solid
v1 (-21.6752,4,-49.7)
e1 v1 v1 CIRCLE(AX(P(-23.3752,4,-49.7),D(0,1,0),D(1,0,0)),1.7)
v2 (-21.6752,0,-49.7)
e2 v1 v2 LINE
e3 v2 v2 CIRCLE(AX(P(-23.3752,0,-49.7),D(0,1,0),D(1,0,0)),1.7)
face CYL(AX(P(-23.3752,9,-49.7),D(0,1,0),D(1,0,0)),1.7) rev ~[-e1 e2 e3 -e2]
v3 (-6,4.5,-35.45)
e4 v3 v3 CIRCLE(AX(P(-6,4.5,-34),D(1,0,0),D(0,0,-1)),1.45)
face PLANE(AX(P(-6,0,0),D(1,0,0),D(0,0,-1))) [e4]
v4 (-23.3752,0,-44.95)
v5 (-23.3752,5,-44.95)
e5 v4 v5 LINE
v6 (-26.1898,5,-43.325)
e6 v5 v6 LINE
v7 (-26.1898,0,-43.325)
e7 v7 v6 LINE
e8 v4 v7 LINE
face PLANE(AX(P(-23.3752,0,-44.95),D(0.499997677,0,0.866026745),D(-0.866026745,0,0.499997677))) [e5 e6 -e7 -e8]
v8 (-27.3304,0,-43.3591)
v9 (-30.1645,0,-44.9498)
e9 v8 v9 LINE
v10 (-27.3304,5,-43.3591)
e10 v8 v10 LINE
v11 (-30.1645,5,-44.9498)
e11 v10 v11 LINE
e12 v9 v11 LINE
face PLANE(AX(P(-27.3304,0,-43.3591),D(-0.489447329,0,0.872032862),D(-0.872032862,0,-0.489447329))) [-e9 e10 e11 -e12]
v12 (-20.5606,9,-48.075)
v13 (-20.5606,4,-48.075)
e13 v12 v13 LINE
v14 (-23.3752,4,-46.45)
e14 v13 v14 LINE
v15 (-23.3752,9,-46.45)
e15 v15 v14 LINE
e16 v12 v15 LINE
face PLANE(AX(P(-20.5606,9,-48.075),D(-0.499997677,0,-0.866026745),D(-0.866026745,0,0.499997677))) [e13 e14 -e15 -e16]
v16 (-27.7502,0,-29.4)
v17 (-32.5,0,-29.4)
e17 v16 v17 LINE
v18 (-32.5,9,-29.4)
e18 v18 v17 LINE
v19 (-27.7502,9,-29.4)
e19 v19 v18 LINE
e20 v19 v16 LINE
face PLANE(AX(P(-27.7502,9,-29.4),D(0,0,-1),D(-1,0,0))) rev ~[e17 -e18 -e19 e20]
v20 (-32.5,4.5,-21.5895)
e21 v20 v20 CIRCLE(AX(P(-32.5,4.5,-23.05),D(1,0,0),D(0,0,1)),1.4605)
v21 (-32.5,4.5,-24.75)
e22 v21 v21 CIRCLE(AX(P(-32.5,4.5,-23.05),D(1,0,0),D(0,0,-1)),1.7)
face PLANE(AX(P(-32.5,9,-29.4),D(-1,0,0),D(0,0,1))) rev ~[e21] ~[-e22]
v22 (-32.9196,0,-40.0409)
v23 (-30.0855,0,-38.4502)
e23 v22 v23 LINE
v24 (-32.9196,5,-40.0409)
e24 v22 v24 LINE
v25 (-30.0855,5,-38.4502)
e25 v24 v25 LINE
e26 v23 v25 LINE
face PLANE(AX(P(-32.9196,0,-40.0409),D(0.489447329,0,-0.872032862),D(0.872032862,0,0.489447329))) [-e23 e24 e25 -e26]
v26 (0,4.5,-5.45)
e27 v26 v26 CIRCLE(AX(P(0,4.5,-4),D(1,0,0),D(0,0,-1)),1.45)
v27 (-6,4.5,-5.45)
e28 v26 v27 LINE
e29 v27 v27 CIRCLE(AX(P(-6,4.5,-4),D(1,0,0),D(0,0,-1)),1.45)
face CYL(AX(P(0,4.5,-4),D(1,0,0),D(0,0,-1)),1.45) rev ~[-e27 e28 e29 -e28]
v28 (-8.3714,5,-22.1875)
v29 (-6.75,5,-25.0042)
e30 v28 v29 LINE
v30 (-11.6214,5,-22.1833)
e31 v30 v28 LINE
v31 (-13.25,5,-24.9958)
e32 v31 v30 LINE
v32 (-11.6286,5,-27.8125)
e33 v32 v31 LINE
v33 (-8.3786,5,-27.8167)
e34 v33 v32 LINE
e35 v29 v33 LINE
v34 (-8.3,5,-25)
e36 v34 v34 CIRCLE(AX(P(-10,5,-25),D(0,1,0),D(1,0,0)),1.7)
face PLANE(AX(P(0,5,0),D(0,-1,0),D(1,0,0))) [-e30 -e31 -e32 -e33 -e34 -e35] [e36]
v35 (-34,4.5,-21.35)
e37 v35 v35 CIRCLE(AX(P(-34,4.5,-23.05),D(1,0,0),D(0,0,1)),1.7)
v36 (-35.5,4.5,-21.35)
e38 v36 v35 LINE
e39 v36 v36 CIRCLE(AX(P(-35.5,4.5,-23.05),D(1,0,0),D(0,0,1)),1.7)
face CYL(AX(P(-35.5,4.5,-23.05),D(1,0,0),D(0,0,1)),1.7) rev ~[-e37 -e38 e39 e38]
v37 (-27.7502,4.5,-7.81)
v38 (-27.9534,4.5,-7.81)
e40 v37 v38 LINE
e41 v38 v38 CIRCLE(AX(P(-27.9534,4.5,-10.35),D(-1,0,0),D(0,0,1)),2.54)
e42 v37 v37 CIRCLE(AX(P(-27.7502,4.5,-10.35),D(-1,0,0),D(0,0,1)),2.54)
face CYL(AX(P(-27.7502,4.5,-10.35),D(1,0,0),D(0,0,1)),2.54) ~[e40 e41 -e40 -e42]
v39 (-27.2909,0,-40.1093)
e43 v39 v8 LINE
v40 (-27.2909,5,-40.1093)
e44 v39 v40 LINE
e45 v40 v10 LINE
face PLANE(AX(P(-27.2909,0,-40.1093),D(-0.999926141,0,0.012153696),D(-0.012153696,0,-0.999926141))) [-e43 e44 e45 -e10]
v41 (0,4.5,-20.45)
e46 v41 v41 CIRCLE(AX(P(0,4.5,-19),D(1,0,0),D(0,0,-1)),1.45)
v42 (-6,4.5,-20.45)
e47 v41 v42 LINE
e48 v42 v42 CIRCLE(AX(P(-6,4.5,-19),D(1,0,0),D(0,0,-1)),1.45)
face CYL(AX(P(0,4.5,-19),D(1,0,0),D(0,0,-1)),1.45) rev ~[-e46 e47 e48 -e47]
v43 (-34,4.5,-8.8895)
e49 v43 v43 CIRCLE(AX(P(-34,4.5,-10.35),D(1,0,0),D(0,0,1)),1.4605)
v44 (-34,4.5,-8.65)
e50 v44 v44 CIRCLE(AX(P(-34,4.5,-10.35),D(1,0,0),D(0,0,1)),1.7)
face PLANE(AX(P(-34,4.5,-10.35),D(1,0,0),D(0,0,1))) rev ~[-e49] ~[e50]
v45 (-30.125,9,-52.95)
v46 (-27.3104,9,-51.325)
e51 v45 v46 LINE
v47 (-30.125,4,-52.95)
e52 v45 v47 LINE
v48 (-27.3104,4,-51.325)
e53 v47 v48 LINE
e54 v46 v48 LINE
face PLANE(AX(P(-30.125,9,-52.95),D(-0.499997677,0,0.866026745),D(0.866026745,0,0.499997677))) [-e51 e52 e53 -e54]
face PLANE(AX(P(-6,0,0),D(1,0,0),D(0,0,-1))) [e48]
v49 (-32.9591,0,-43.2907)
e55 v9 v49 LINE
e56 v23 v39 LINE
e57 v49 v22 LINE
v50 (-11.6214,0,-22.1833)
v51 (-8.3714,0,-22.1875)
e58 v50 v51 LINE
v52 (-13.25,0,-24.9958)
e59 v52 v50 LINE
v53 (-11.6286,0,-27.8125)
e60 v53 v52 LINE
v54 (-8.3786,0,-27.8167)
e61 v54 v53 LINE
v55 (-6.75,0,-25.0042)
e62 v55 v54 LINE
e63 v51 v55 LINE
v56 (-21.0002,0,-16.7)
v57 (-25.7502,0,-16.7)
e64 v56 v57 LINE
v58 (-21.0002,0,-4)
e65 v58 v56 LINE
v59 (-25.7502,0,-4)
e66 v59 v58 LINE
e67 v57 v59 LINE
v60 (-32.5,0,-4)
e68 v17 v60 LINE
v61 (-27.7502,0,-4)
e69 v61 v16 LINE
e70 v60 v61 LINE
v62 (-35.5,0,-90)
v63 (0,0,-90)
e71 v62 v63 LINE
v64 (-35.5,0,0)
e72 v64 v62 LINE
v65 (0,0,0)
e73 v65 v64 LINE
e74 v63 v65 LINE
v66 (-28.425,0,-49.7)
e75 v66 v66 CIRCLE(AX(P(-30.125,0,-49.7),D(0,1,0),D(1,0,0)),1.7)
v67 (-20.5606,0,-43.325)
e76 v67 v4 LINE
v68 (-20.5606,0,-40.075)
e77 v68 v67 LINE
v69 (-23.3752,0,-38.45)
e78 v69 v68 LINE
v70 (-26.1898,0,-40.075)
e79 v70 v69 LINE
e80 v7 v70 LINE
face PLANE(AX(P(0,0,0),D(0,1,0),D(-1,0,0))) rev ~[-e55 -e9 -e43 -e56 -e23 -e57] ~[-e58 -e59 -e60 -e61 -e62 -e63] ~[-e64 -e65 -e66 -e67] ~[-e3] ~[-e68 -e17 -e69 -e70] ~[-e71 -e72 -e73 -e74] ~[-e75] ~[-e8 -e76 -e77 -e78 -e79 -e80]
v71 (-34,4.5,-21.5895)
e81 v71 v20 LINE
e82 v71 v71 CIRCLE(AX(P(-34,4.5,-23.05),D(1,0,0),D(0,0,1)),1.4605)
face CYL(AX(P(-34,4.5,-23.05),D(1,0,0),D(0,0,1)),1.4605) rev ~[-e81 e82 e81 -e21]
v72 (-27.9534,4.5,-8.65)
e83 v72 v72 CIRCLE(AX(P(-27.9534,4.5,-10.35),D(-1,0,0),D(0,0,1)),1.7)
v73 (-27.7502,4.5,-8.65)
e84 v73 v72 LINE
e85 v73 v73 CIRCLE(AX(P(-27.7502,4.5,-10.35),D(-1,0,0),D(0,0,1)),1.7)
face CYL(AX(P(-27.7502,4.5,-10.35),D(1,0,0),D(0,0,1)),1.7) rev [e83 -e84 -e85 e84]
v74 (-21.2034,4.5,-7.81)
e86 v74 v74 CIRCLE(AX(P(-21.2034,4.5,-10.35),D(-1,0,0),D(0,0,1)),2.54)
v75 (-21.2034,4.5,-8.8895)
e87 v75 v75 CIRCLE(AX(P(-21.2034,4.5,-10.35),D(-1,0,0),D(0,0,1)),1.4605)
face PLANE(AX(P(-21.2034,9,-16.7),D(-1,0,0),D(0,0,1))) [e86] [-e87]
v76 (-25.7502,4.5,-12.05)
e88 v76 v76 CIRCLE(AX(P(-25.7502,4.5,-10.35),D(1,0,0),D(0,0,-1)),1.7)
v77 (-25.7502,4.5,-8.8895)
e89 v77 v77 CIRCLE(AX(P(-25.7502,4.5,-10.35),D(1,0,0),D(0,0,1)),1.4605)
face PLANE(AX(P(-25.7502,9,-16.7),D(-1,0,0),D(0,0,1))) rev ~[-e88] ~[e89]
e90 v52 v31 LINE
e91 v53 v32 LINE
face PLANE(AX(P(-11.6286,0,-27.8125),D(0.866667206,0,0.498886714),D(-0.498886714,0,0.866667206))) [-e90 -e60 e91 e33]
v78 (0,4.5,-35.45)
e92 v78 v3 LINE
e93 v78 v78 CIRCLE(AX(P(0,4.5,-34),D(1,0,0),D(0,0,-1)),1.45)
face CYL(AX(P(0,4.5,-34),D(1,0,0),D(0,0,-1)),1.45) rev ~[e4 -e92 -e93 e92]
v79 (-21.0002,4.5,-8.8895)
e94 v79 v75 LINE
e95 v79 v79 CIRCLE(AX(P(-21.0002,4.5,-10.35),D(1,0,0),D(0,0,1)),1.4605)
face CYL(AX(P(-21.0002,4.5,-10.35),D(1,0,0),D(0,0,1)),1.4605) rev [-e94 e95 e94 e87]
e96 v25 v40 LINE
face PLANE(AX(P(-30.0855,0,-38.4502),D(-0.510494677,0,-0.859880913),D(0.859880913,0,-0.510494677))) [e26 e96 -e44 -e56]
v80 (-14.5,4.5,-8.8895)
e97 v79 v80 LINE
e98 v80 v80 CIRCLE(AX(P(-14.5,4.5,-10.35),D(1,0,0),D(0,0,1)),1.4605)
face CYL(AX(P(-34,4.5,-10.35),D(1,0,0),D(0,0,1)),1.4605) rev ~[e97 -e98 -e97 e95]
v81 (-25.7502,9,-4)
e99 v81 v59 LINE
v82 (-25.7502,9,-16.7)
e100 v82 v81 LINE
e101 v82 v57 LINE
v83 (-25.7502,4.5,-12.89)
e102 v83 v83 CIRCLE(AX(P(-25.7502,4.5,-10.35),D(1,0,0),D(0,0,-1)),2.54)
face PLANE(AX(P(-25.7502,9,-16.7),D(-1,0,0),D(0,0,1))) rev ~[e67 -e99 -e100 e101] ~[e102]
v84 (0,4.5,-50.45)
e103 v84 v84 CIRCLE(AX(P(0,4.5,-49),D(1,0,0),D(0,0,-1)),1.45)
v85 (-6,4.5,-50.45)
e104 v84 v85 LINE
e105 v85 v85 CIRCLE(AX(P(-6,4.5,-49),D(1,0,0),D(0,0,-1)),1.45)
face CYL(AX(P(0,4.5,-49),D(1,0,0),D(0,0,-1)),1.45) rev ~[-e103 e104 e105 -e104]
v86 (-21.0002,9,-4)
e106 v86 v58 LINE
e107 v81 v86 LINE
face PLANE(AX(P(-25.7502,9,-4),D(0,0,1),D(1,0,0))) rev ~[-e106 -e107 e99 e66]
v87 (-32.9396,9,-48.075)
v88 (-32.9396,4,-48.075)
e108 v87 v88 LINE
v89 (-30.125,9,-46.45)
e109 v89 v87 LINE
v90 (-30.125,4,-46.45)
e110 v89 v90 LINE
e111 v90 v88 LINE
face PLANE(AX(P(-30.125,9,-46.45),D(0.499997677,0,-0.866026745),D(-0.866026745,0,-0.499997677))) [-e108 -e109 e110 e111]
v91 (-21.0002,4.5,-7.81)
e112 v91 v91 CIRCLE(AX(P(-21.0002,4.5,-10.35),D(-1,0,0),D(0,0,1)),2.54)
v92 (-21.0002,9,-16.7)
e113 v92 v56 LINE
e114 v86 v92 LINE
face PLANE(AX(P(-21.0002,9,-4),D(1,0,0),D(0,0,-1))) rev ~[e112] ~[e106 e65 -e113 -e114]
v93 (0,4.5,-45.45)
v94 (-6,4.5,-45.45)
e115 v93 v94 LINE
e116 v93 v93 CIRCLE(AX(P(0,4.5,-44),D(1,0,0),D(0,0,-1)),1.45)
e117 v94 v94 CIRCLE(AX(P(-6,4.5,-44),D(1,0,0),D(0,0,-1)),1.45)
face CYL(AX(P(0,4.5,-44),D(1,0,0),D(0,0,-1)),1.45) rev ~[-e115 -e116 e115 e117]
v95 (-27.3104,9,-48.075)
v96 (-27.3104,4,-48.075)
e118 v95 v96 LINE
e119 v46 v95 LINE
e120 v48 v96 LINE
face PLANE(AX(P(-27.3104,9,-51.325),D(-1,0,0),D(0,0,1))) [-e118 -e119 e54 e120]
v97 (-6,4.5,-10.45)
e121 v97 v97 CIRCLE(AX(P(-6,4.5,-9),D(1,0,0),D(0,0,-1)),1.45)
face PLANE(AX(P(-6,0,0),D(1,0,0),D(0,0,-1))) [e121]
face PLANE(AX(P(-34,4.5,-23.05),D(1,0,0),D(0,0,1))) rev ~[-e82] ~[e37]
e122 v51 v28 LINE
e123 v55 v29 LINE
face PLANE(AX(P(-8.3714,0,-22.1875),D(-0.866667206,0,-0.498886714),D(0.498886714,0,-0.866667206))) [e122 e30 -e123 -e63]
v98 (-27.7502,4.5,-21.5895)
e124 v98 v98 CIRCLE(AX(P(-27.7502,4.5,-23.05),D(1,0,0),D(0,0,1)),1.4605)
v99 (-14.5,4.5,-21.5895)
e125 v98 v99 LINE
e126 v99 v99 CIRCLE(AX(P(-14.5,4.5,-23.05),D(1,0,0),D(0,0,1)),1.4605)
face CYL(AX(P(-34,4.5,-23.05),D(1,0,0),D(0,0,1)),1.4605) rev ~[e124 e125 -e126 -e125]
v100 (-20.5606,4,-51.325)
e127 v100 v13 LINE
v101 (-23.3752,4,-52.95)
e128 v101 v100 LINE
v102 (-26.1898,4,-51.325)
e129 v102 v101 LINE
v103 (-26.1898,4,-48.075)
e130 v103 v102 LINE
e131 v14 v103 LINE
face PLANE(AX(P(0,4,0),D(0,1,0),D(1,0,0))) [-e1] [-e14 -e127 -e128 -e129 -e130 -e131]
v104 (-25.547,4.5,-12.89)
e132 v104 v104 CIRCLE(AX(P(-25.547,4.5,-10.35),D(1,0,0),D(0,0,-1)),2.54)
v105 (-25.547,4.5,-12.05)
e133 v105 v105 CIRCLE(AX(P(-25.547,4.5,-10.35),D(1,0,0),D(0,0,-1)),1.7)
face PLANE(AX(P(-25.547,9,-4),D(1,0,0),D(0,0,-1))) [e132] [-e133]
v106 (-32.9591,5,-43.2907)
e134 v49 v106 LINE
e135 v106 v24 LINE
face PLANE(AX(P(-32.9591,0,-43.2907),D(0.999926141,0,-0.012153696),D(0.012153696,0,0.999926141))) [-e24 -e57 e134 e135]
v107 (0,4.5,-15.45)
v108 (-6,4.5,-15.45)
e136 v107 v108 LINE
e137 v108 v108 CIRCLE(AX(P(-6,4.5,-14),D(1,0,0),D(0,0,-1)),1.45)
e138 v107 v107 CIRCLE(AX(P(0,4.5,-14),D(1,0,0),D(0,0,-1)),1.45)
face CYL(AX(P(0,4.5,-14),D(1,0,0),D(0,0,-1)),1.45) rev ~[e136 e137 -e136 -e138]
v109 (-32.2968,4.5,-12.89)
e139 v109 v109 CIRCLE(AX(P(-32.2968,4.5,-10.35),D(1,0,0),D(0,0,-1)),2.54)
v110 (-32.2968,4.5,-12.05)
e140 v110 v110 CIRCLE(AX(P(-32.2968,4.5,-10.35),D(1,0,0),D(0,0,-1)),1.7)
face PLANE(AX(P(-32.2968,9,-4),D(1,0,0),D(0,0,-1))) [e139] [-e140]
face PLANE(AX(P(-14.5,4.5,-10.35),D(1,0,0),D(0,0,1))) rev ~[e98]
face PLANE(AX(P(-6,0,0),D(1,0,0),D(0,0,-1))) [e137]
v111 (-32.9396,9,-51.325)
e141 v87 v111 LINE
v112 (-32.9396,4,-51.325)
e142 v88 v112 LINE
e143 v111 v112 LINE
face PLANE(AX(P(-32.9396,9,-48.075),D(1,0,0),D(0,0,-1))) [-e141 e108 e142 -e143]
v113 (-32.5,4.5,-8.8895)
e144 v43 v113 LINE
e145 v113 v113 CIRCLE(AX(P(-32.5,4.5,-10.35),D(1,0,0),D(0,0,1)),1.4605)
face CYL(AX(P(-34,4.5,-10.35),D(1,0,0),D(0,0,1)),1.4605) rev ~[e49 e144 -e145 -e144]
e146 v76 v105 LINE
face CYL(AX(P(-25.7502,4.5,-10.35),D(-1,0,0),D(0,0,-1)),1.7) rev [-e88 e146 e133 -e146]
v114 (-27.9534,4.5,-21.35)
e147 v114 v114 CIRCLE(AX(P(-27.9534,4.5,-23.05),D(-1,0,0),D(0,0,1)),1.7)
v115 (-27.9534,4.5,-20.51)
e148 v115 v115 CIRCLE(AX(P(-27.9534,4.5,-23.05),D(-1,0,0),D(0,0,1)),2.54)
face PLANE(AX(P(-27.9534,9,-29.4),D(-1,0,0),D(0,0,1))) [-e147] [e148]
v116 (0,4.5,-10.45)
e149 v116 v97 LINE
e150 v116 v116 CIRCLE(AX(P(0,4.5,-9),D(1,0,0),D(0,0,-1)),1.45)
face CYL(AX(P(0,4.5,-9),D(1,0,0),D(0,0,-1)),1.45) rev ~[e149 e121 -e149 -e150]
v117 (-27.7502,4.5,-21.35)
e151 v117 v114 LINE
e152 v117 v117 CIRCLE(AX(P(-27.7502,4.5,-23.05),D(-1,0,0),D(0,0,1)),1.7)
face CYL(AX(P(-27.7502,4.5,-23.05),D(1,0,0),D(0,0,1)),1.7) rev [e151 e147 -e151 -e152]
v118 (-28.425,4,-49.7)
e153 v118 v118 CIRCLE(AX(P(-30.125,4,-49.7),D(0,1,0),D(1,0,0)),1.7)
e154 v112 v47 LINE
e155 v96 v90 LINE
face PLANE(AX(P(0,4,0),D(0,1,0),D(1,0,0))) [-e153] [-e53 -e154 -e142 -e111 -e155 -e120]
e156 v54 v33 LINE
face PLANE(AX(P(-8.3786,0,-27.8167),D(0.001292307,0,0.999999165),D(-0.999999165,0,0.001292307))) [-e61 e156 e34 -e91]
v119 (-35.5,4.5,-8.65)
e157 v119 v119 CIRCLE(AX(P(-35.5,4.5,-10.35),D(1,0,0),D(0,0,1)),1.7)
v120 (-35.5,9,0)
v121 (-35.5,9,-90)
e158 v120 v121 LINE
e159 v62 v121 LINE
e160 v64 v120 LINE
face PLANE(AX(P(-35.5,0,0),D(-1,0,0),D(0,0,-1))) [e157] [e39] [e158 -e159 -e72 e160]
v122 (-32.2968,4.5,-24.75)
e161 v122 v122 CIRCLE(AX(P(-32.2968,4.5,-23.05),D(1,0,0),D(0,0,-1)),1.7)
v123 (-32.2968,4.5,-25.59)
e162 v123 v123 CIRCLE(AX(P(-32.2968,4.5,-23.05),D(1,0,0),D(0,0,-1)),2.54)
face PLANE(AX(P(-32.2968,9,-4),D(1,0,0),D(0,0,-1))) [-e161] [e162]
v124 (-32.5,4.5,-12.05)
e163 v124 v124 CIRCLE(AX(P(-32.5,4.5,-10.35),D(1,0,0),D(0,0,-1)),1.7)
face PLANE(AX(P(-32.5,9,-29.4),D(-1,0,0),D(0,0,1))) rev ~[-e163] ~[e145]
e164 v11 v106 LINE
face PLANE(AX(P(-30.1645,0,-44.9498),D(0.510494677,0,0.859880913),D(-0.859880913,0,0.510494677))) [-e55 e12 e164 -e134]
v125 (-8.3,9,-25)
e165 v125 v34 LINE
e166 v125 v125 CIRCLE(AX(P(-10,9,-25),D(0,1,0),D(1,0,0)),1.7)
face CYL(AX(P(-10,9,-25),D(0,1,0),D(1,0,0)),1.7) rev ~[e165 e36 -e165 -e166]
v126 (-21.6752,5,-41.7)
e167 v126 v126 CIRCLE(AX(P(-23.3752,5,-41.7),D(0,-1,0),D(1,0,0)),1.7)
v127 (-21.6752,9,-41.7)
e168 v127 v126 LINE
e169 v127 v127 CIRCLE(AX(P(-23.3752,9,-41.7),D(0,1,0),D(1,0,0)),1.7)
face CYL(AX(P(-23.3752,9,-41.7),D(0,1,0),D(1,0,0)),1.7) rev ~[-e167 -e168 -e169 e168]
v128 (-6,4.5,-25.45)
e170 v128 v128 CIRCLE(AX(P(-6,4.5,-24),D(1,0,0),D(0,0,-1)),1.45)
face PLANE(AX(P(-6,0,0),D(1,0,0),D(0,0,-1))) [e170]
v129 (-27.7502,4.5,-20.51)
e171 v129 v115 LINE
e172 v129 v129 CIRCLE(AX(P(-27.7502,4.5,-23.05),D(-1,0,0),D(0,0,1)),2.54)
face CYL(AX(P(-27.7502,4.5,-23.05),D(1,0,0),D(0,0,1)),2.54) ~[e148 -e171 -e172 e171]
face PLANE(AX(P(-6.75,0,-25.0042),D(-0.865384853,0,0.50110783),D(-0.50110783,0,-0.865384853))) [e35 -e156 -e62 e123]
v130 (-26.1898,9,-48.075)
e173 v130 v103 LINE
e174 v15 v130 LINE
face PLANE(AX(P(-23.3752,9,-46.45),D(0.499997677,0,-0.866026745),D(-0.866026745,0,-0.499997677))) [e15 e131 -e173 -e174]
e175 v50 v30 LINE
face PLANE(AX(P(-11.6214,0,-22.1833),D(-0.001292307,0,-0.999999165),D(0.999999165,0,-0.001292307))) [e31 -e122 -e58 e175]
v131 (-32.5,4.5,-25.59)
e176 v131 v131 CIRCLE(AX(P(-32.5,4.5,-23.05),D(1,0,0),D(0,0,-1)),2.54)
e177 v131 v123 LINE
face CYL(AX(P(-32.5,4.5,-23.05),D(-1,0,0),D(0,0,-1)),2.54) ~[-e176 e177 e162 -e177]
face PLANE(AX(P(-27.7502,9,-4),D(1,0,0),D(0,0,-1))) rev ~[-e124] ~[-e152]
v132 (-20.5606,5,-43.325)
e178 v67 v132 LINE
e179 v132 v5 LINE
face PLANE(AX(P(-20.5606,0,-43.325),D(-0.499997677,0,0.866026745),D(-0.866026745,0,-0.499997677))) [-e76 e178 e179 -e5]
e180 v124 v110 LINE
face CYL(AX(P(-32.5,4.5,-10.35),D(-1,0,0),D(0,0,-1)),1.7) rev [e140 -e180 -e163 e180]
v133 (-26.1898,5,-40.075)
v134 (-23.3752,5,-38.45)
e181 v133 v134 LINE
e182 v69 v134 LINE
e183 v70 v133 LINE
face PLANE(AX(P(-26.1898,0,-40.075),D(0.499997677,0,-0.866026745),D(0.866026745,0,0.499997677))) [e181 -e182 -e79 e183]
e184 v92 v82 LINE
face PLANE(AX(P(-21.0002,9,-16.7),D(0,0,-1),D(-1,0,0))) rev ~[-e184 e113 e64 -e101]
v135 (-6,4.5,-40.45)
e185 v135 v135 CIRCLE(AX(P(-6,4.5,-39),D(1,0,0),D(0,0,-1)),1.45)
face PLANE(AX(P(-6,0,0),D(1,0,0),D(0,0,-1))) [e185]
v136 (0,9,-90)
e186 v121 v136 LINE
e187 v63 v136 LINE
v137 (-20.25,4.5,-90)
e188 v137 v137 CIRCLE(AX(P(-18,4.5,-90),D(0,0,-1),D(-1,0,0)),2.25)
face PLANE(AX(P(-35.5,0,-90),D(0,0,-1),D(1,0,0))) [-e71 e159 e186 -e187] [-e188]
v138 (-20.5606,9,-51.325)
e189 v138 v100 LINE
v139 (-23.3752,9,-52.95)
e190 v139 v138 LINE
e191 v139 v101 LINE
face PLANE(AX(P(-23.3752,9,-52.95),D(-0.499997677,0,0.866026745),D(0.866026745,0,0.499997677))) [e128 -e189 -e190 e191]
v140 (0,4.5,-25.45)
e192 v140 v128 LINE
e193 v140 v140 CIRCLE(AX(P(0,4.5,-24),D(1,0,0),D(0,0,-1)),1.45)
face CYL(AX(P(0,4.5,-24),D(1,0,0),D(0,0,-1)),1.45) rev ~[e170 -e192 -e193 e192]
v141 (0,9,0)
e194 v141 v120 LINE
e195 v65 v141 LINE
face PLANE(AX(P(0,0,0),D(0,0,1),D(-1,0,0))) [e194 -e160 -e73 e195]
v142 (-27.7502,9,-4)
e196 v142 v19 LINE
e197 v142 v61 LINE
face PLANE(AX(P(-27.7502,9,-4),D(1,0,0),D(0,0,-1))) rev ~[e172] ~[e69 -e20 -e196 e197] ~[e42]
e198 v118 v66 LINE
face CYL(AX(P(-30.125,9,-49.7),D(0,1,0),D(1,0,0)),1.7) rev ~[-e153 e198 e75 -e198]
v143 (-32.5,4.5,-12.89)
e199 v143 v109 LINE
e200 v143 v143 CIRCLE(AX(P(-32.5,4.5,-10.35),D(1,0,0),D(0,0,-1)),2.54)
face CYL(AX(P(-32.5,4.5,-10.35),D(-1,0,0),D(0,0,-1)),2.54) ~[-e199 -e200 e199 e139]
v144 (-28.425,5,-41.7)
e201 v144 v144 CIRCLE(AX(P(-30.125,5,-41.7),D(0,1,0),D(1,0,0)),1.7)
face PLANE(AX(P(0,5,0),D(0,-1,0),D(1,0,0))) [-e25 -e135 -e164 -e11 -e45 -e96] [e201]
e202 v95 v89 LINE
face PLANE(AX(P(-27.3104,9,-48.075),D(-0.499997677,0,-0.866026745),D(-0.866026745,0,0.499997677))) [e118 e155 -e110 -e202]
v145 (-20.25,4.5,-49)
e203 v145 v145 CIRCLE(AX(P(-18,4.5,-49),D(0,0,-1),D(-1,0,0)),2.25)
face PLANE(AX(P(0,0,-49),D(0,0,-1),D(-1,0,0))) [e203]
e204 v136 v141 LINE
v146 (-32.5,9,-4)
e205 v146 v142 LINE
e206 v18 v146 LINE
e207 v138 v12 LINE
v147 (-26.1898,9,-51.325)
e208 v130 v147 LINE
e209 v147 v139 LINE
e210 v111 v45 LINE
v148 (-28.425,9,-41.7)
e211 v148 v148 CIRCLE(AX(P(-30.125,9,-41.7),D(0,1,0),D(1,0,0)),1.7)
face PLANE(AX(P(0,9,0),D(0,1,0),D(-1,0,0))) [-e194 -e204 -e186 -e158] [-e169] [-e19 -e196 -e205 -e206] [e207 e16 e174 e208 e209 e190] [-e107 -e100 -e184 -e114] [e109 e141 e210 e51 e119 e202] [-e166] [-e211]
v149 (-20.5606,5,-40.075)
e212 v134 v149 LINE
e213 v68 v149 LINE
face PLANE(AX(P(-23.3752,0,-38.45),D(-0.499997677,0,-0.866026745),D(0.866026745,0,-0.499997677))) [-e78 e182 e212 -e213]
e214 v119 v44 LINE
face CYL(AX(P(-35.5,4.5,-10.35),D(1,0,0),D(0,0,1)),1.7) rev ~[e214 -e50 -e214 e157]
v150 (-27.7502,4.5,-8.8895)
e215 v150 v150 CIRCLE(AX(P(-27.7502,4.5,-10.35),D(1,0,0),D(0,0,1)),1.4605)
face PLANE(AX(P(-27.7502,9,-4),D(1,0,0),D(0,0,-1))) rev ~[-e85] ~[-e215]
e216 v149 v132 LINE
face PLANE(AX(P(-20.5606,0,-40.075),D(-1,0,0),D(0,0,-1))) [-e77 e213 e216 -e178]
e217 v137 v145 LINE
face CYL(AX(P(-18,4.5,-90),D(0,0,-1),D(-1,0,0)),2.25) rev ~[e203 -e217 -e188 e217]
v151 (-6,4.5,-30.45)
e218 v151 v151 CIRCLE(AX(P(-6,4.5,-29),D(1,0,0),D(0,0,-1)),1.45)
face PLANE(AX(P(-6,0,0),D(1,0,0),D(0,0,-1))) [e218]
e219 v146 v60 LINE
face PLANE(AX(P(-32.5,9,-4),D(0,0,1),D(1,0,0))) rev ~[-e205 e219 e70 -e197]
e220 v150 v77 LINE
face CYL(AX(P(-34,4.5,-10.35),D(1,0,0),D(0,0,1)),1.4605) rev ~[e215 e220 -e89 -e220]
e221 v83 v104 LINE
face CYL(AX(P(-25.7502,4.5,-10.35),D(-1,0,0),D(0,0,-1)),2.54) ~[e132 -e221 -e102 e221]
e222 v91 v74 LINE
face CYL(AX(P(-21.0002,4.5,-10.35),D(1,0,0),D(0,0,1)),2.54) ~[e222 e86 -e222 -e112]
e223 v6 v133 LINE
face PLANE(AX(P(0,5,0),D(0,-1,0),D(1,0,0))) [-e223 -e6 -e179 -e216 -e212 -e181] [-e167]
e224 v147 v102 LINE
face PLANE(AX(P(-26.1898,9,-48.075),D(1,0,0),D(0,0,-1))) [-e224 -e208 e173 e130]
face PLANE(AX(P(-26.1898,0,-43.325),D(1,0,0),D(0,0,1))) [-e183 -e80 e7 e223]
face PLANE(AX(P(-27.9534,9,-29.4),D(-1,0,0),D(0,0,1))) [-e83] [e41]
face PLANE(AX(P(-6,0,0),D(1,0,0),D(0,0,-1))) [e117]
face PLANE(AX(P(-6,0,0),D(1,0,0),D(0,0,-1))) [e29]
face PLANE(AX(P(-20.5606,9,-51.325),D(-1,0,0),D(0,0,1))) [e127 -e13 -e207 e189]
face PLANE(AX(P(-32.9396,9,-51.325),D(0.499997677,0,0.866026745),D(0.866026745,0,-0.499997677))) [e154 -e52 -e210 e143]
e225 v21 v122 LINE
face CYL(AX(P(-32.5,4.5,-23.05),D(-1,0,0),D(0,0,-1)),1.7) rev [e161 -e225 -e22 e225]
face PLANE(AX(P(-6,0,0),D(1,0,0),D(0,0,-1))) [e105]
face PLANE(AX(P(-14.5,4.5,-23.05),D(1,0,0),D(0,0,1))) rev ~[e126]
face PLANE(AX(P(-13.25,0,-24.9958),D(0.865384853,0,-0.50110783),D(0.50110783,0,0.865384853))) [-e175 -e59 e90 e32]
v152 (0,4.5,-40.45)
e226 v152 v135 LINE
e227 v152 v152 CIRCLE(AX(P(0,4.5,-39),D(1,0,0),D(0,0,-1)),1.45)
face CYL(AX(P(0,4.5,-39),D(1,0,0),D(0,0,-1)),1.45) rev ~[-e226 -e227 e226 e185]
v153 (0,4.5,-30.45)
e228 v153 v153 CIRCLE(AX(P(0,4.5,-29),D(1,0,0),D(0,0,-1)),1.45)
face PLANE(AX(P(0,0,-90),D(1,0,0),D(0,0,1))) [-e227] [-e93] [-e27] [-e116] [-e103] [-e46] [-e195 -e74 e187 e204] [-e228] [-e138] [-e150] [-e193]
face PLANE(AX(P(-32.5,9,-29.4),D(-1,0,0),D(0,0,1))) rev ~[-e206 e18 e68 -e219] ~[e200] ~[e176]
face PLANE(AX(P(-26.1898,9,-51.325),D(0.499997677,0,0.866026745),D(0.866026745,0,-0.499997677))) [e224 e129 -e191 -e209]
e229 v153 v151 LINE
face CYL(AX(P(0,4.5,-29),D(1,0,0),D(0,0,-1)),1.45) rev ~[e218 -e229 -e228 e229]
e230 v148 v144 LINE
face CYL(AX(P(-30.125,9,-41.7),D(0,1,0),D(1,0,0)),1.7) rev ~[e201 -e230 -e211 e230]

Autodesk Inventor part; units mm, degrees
ref_plane "YZ Plane" through (0, 0, 0) normal (1, 0, 0) x (0, 1, 0)
sketch "Sketch1" plane through (0, 0, 0) normal (0, 1, 0) x (-1, 0, 0)
  line L0 (0, 0) -> (35.5, 0)
  line L1 (35.5, 0) -> (35.5, -90)
  line L2 (35.5, -90) -> (0, -90)
  line L3 (0, -90) -> (0, 0)
  dimension "d0" = 35.5
  dimension "d1" = 90
extrude "Extrusion1" add sketch "Sketch1" along normal blind 9
sketch "Sketch3" plane through (0, 0, 0) normal (0, -1, 0) x (1, 0, 0)
  circle A0 centre (-10, -25) radius 3.25 construction
  line L0 (0, 0) -> (-35.5, 0) projected
  line L1 (-35.5, 0) -> (-35.5, -90) projected
  line L2 (-11.6286, -27.8125) -> (-13.25, -24.9958)
  line L3 (-13.25, -24.9958) -> (-11.6214, -22.1833)
  line L4 (-11.6214, -22.1833) -> (-8.3714, -22.1875)
  line L5 (-8.3714, -22.1875) -> (-6.75, -25.0042)
  line L6 (-6.75, -25.0042) -> (-8.3786, -27.8167)
  line L7 (-8.3786, -27.8167) -> (-11.6286, -27.8125)
  line L8 (0, -90) -> (0, 0) projected
  dimension "d15" = 6.5
  dimension "d16" = 25
  dimension "d26" = 10
extrude "Extrusion3" cut sketch "Sketch3" against normal blind 5
sketch "Sketch5" plane through (0, 9, 0) normal (0, 1, 0) x (1, 0, 0)
  line L0 (0, 0) -> (0, 90) projected
  line L1 (-35.5, 0) -> (0, 0) projected
  circle A0 centre (-10, 25) radius 1.7
  dimension "d36" = 3.4
  dimension "d37" = 25
extrude "Extrusion4" cut sketch "Sketch5" against normal through all
sketch "Sketch6" plane through (0, 9, 0) normal (0, 1, 0) x (1, 0, 0)
  line L0 (-32.5, 4) -> (-27.7502, 4)
  line L1 (-27.7502, 4) -> (-27.7502, 29.4)
  line L2 (-27.7502, 29.4) -> (-32.5, 29.4)
  line L3 (-32.5, 29.4) -> (-32.5, 4)
  line L4 (-35.5, 0) -> (0, 0) projected
  line L5 (-35.5, 90) -> (-35.5, 0) projected
  line L6 (-25.7502, 4) -> (-21.0002, 4)
  line L7 (-21.0002, 4) -> (-21.0002, 16.7)
  line L8 (-21.0002, 16.7) -> (-25.7502, 16.7)
  line L9 (-25.7502, 16.7) -> (-25.7502, 4)
  line L10 (0, 0) -> (0, 90) construction
  line L11 (-35.5, 90) -> (0, 90) projected
  line L12 (0, 0) -> (-20, 0) construction
  line L13 (-20, 0) -> (-20, 90) construction
  line L14 (-20, 90) -> (0, 90) construction
  line L15 (0, 90) -> (0, 0)
  circle A0 centre (-23.3752, 41.7) radius 1.7
  circle A1 centre (-30.125, 41.7) radius 1.7
  circle A2 centre (-30.125, 49.7) radius 1.7
  circle A3 centre (-23.3752, 49.7) radius 1.7
  dimension "d43" = 4.7498
  dimension "d44" = 25.4
  dimension "d45" = 4
  dimension "d46" = 3
  dimension "d47" = 4.75
  dimension "d48" = 2
  dimension "d49" = 20
  dimension "d50" = 3.4
  dimension "d90" = 3.4
  dimension "d91" = 5.375
  dimension "d92" = 3.4
  dimension "d93" = 8
  dimension "d94" = 3.4
  dimension "d99" = 40.3
extrude "Extrusion5" cut sketch "Sketch6" against normal through all contours L3 L2 L1 L0 | L9 L8 L7 L6 | A0 | A1 | A2 | A3
sketch "Sketch7" plane through (0, 0, 0) normal (0, -1, 0) x (1, 0, 0)
  circle A0 centre (-23.3752, -41.7) radius 1.7 projected
  circle A1 centre (-23.3752, -41.7) radius 3.25 construction
  line L0 (-23.3752, -38.45) -> (-20.5606, -40.075)
  line L1 (-20.5606, -40.075) -> (-20.5606, -43.325)
  line L2 (-20.5606, -43.325) -> (-23.3752, -44.95)
  line L3 (-23.3752, -44.95) -> (-26.1898, -43.325)
  line L4 (-26.1898, -43.325) -> (-26.1898, -40.075)
  line L5 (-26.1898, -40.075) -> (-23.3752, -38.45)
  line L6 (0, 0) -> (-35.5, 0) projected
  circle A2 centre (-30.125, -41.7) radius 3.25 construction
  line L7 (-35.5, 0) -> (-35.5, -90) projected
  line L8 (-30.1645, -44.9498) -> (-32.9591, -43.2907)
  line L9 (-32.9591, -43.2907) -> (-32.9196, -40.0409)
  line L10 (-32.9196, -40.0409) -> (-30.0855, -38.4502)
  line L11 (-30.0855, -38.4502) -> (-27.2909, -40.1093)
  line L12 (-27.2909, -40.1093) -> (-27.3304, -43.3591)
  line L13 (-27.3304, -43.3591) -> (-30.1645, -44.9498)
  dimension "d88" = 6.5
  dimension "d54" = 6.5
  dimension "d87" = 41.7
  dimension "d89" = 5.375
extrude "Extrusion6" cut sketch "Sketch7" against normal blind 5
sketch "Sketch8" plane through (-35.5, 0, -90) normal (-1, 0, 0) x (0, 0, 1)
  circle A0 centre (79.65, 4.5) radius 1.4605
  line L0 (0, 9) -> (90, 9) projected
  line L1 (90, 0) -> (90, 9) projected
  circle A1 centre (66.95, 4.5) radius 1.4605
  dimension "d57" = 2.921
  dimension "d58" = 4.5
  dimension "d59" = 10.35
  dimension "d103" = 2.921
  dimension "d104" = 4.5
  dimension "d105" = 12.7
hole "Hole1" at (-35.5, 4.5, -10.35) at (-35.5, 4.5, -23.05) direction (1, 0, 0) diameter 2.921 depth 21 counterbore diameter 3.4 counterbore depth 1.5
sketch "Sketch9" plane through (-21.0002, 9, -16.7) normal (-1, 0, 0) x (0, 0, 1)
  circle A0 centre (6.35, -4.5) radius 1.4605 projected
  circle A1 centre (6.35, -4.5) radius 2.54
  point P0 (16.7, -9)
  dimension "d67" = 5.08
extrude "Extrusion7" add sketch "Sketch9" along normal blind 0.2032
sketch "Sketch10" plane through (-27.7502, 9, -29.4) normal (-1, 0, 0) x (0, 0, 1)
  circle A0 centre (6.35, -4.5) radius 1.7 projected
  circle A1 centre (6.35, -4.5) radius 2.54
  circle A2 centre (19.05, -4.5) radius 2.54 projected
  circle A3 centre (19.05, -4.5) radius 2.54
  circle A4 centre (19.05, -4.5) radius 1.7
  point P0 (29.4, -9)
  dimension "d70" = 5.08
  dimension "d106" = 3.4
extrude "Extrusion8" add sketch "Sketch10" along normal blind 0.2032
sketch "Sketch11" plane through (-25.7502, 9, -4) normal (1, 0, 0) x (0, 0, -1)
  circle A0 centre (6.35, -4.5) radius 1.7 projected
  circle A1 centre (6.35, -4.5) radius 2.54
  point P0 (-4, -9)
  dimension "d73" = 5.08
extrude "Extrusion9" add sketch "Sketch11" along normal blind 0.2032
sketch "Sketch12" plane through (-32.5, 9, -4) normal (1, 0, 0) x (0, 0, -1)
  circle A0 centre (6.35, -4.5) radius 1.7 projected
  circle A1 centre (6.35, -4.5) radius 2.54
  circle A2 centre (19.05, -4.5) radius 1.4605 projected
  circle A3 centre (19.05, -4.5) radius 2.54
  circle A4 centre (19.05, -4.5) radius 1.7
  point P0 (-4, -9)
  dimension "d76" = 5.08
  dimension "d107" = 5.08
  dimension "d108" = 3.4
extrude "Extrusion10" add sketch "Sketch12" along normal blind 0.2032 contours A1 | A3
sketch "Sketch14" plane through (0, 0, -90) normal (0, 0, -1) x (-1, 0, 0)
  circle A0 centre (18, 4.5) radius 2.25
  line L0 (35.5, 0) -> (0, 0) projected
  line L1 (0, 0) -> (0, 9) projected
  dimension "d82" = 4.5
  dimension "d83" = 4.5
  dimension "d84" = 18
extrude "Extrusion11" cut sketch "Sketch14" against normal blind 41
sketch "Sketch15" plane through (0, 9, 0) normal (0, 1, 0) x (1, 0, 0)
  circle A0 centre (-30.125, 49.7) radius 1.7 projected
  circle A1 centre (-30.125, 49.7) radius 3.25 construction
  circle A2 centre (-23.3752, 49.7) radius 1.7 projected
  circle A3 centre (-23.3752, 49.7) radius 3.25 construction
  line L0 (-30.125, 52.95) -> (-27.3104, 51.325)
  line L1 (-27.3104, 51.325) -> (-27.3104, 48.075)
  line L2 (-27.3104, 48.075) -> (-30.125, 46.45)
  line L3 (-30.125, 46.45) -> (-32.9396, 48.075)
  line L4 (-32.9396, 48.075) -> (-32.9396, 51.325)
  line L5 (-32.9396, 51.325) -> (-30.125, 52.95)
  line L6 (-23.3752, 52.95) -> (-20.5606, 51.325)
  line L7 (-20.5606, 51.325) -> (-20.5606, 48.075)
  line L8 (-20.5606, 48.075) -> (-23.3752, 46.45)
  line L9 (-23.3752, 46.45) -> (-26.1898, 48.075)
  line L10 (-26.1898, 48.075) -> (-26.1898, 51.325)
  line L11 (-26.1898, 51.325) -> (-23.3752, 52.95)
  point P0 (0, 0)
  dimension "d95" = 6.5
  dimension "d96" = 6.5
extrude "Extrusion12" cut sketch "Sketch15" against normal blind 5
ref_plane "Work Plane1" through (-30.1251, 9, -4) normal (1, 0, 0) x (0, 0, -1)
ref_plane "Work Plane2" through (-23.3752, 9, -4) normal (1, 0, 0) x (0, 0, -1)
sketch "Sketch18" plane through (0, 0, 0) normal (1, 0, 0) x (0, 0, -1)
  circle A0 centre (4, 4.5) radius 1.45
  line L0 (0, 0) -> (0, 9) projected
  line L1 (0, 9) -> (90, 9) projected
  line L2 (90, 0) -> (0, 0) projected
  circle A1 centre (9, 4.5) radius 1.45
  circle A2 centre (14, 4.5) radius 1.45
  circle A3 centre (19, 4.5) radius 1.45
  circle A4 centre (24, 4.5) radius 1.45
  circle A5 centre (29, 4.5) radius 1.45
  circle A6 centre (34, 4.5) radius 1.45
  circle A7 centre (39, 4.5) radius 1.45
  circle A8 centre (44, 4.5) radius 1.45
  circle A9 centre (49, 4.5) radius 1.45
  dimension "d116" = 2.9
  dimension "d117" = 4
  dimension "d118" = 4.5
  dimension "d119" = 9
  dimension "d122" = 5
extrude "Extrusion13" cut sketch "Sketch18" against normal blind 6
equation "\"d118\" = 0.5 * d119"
properties part number "Front fixed top coupler"
